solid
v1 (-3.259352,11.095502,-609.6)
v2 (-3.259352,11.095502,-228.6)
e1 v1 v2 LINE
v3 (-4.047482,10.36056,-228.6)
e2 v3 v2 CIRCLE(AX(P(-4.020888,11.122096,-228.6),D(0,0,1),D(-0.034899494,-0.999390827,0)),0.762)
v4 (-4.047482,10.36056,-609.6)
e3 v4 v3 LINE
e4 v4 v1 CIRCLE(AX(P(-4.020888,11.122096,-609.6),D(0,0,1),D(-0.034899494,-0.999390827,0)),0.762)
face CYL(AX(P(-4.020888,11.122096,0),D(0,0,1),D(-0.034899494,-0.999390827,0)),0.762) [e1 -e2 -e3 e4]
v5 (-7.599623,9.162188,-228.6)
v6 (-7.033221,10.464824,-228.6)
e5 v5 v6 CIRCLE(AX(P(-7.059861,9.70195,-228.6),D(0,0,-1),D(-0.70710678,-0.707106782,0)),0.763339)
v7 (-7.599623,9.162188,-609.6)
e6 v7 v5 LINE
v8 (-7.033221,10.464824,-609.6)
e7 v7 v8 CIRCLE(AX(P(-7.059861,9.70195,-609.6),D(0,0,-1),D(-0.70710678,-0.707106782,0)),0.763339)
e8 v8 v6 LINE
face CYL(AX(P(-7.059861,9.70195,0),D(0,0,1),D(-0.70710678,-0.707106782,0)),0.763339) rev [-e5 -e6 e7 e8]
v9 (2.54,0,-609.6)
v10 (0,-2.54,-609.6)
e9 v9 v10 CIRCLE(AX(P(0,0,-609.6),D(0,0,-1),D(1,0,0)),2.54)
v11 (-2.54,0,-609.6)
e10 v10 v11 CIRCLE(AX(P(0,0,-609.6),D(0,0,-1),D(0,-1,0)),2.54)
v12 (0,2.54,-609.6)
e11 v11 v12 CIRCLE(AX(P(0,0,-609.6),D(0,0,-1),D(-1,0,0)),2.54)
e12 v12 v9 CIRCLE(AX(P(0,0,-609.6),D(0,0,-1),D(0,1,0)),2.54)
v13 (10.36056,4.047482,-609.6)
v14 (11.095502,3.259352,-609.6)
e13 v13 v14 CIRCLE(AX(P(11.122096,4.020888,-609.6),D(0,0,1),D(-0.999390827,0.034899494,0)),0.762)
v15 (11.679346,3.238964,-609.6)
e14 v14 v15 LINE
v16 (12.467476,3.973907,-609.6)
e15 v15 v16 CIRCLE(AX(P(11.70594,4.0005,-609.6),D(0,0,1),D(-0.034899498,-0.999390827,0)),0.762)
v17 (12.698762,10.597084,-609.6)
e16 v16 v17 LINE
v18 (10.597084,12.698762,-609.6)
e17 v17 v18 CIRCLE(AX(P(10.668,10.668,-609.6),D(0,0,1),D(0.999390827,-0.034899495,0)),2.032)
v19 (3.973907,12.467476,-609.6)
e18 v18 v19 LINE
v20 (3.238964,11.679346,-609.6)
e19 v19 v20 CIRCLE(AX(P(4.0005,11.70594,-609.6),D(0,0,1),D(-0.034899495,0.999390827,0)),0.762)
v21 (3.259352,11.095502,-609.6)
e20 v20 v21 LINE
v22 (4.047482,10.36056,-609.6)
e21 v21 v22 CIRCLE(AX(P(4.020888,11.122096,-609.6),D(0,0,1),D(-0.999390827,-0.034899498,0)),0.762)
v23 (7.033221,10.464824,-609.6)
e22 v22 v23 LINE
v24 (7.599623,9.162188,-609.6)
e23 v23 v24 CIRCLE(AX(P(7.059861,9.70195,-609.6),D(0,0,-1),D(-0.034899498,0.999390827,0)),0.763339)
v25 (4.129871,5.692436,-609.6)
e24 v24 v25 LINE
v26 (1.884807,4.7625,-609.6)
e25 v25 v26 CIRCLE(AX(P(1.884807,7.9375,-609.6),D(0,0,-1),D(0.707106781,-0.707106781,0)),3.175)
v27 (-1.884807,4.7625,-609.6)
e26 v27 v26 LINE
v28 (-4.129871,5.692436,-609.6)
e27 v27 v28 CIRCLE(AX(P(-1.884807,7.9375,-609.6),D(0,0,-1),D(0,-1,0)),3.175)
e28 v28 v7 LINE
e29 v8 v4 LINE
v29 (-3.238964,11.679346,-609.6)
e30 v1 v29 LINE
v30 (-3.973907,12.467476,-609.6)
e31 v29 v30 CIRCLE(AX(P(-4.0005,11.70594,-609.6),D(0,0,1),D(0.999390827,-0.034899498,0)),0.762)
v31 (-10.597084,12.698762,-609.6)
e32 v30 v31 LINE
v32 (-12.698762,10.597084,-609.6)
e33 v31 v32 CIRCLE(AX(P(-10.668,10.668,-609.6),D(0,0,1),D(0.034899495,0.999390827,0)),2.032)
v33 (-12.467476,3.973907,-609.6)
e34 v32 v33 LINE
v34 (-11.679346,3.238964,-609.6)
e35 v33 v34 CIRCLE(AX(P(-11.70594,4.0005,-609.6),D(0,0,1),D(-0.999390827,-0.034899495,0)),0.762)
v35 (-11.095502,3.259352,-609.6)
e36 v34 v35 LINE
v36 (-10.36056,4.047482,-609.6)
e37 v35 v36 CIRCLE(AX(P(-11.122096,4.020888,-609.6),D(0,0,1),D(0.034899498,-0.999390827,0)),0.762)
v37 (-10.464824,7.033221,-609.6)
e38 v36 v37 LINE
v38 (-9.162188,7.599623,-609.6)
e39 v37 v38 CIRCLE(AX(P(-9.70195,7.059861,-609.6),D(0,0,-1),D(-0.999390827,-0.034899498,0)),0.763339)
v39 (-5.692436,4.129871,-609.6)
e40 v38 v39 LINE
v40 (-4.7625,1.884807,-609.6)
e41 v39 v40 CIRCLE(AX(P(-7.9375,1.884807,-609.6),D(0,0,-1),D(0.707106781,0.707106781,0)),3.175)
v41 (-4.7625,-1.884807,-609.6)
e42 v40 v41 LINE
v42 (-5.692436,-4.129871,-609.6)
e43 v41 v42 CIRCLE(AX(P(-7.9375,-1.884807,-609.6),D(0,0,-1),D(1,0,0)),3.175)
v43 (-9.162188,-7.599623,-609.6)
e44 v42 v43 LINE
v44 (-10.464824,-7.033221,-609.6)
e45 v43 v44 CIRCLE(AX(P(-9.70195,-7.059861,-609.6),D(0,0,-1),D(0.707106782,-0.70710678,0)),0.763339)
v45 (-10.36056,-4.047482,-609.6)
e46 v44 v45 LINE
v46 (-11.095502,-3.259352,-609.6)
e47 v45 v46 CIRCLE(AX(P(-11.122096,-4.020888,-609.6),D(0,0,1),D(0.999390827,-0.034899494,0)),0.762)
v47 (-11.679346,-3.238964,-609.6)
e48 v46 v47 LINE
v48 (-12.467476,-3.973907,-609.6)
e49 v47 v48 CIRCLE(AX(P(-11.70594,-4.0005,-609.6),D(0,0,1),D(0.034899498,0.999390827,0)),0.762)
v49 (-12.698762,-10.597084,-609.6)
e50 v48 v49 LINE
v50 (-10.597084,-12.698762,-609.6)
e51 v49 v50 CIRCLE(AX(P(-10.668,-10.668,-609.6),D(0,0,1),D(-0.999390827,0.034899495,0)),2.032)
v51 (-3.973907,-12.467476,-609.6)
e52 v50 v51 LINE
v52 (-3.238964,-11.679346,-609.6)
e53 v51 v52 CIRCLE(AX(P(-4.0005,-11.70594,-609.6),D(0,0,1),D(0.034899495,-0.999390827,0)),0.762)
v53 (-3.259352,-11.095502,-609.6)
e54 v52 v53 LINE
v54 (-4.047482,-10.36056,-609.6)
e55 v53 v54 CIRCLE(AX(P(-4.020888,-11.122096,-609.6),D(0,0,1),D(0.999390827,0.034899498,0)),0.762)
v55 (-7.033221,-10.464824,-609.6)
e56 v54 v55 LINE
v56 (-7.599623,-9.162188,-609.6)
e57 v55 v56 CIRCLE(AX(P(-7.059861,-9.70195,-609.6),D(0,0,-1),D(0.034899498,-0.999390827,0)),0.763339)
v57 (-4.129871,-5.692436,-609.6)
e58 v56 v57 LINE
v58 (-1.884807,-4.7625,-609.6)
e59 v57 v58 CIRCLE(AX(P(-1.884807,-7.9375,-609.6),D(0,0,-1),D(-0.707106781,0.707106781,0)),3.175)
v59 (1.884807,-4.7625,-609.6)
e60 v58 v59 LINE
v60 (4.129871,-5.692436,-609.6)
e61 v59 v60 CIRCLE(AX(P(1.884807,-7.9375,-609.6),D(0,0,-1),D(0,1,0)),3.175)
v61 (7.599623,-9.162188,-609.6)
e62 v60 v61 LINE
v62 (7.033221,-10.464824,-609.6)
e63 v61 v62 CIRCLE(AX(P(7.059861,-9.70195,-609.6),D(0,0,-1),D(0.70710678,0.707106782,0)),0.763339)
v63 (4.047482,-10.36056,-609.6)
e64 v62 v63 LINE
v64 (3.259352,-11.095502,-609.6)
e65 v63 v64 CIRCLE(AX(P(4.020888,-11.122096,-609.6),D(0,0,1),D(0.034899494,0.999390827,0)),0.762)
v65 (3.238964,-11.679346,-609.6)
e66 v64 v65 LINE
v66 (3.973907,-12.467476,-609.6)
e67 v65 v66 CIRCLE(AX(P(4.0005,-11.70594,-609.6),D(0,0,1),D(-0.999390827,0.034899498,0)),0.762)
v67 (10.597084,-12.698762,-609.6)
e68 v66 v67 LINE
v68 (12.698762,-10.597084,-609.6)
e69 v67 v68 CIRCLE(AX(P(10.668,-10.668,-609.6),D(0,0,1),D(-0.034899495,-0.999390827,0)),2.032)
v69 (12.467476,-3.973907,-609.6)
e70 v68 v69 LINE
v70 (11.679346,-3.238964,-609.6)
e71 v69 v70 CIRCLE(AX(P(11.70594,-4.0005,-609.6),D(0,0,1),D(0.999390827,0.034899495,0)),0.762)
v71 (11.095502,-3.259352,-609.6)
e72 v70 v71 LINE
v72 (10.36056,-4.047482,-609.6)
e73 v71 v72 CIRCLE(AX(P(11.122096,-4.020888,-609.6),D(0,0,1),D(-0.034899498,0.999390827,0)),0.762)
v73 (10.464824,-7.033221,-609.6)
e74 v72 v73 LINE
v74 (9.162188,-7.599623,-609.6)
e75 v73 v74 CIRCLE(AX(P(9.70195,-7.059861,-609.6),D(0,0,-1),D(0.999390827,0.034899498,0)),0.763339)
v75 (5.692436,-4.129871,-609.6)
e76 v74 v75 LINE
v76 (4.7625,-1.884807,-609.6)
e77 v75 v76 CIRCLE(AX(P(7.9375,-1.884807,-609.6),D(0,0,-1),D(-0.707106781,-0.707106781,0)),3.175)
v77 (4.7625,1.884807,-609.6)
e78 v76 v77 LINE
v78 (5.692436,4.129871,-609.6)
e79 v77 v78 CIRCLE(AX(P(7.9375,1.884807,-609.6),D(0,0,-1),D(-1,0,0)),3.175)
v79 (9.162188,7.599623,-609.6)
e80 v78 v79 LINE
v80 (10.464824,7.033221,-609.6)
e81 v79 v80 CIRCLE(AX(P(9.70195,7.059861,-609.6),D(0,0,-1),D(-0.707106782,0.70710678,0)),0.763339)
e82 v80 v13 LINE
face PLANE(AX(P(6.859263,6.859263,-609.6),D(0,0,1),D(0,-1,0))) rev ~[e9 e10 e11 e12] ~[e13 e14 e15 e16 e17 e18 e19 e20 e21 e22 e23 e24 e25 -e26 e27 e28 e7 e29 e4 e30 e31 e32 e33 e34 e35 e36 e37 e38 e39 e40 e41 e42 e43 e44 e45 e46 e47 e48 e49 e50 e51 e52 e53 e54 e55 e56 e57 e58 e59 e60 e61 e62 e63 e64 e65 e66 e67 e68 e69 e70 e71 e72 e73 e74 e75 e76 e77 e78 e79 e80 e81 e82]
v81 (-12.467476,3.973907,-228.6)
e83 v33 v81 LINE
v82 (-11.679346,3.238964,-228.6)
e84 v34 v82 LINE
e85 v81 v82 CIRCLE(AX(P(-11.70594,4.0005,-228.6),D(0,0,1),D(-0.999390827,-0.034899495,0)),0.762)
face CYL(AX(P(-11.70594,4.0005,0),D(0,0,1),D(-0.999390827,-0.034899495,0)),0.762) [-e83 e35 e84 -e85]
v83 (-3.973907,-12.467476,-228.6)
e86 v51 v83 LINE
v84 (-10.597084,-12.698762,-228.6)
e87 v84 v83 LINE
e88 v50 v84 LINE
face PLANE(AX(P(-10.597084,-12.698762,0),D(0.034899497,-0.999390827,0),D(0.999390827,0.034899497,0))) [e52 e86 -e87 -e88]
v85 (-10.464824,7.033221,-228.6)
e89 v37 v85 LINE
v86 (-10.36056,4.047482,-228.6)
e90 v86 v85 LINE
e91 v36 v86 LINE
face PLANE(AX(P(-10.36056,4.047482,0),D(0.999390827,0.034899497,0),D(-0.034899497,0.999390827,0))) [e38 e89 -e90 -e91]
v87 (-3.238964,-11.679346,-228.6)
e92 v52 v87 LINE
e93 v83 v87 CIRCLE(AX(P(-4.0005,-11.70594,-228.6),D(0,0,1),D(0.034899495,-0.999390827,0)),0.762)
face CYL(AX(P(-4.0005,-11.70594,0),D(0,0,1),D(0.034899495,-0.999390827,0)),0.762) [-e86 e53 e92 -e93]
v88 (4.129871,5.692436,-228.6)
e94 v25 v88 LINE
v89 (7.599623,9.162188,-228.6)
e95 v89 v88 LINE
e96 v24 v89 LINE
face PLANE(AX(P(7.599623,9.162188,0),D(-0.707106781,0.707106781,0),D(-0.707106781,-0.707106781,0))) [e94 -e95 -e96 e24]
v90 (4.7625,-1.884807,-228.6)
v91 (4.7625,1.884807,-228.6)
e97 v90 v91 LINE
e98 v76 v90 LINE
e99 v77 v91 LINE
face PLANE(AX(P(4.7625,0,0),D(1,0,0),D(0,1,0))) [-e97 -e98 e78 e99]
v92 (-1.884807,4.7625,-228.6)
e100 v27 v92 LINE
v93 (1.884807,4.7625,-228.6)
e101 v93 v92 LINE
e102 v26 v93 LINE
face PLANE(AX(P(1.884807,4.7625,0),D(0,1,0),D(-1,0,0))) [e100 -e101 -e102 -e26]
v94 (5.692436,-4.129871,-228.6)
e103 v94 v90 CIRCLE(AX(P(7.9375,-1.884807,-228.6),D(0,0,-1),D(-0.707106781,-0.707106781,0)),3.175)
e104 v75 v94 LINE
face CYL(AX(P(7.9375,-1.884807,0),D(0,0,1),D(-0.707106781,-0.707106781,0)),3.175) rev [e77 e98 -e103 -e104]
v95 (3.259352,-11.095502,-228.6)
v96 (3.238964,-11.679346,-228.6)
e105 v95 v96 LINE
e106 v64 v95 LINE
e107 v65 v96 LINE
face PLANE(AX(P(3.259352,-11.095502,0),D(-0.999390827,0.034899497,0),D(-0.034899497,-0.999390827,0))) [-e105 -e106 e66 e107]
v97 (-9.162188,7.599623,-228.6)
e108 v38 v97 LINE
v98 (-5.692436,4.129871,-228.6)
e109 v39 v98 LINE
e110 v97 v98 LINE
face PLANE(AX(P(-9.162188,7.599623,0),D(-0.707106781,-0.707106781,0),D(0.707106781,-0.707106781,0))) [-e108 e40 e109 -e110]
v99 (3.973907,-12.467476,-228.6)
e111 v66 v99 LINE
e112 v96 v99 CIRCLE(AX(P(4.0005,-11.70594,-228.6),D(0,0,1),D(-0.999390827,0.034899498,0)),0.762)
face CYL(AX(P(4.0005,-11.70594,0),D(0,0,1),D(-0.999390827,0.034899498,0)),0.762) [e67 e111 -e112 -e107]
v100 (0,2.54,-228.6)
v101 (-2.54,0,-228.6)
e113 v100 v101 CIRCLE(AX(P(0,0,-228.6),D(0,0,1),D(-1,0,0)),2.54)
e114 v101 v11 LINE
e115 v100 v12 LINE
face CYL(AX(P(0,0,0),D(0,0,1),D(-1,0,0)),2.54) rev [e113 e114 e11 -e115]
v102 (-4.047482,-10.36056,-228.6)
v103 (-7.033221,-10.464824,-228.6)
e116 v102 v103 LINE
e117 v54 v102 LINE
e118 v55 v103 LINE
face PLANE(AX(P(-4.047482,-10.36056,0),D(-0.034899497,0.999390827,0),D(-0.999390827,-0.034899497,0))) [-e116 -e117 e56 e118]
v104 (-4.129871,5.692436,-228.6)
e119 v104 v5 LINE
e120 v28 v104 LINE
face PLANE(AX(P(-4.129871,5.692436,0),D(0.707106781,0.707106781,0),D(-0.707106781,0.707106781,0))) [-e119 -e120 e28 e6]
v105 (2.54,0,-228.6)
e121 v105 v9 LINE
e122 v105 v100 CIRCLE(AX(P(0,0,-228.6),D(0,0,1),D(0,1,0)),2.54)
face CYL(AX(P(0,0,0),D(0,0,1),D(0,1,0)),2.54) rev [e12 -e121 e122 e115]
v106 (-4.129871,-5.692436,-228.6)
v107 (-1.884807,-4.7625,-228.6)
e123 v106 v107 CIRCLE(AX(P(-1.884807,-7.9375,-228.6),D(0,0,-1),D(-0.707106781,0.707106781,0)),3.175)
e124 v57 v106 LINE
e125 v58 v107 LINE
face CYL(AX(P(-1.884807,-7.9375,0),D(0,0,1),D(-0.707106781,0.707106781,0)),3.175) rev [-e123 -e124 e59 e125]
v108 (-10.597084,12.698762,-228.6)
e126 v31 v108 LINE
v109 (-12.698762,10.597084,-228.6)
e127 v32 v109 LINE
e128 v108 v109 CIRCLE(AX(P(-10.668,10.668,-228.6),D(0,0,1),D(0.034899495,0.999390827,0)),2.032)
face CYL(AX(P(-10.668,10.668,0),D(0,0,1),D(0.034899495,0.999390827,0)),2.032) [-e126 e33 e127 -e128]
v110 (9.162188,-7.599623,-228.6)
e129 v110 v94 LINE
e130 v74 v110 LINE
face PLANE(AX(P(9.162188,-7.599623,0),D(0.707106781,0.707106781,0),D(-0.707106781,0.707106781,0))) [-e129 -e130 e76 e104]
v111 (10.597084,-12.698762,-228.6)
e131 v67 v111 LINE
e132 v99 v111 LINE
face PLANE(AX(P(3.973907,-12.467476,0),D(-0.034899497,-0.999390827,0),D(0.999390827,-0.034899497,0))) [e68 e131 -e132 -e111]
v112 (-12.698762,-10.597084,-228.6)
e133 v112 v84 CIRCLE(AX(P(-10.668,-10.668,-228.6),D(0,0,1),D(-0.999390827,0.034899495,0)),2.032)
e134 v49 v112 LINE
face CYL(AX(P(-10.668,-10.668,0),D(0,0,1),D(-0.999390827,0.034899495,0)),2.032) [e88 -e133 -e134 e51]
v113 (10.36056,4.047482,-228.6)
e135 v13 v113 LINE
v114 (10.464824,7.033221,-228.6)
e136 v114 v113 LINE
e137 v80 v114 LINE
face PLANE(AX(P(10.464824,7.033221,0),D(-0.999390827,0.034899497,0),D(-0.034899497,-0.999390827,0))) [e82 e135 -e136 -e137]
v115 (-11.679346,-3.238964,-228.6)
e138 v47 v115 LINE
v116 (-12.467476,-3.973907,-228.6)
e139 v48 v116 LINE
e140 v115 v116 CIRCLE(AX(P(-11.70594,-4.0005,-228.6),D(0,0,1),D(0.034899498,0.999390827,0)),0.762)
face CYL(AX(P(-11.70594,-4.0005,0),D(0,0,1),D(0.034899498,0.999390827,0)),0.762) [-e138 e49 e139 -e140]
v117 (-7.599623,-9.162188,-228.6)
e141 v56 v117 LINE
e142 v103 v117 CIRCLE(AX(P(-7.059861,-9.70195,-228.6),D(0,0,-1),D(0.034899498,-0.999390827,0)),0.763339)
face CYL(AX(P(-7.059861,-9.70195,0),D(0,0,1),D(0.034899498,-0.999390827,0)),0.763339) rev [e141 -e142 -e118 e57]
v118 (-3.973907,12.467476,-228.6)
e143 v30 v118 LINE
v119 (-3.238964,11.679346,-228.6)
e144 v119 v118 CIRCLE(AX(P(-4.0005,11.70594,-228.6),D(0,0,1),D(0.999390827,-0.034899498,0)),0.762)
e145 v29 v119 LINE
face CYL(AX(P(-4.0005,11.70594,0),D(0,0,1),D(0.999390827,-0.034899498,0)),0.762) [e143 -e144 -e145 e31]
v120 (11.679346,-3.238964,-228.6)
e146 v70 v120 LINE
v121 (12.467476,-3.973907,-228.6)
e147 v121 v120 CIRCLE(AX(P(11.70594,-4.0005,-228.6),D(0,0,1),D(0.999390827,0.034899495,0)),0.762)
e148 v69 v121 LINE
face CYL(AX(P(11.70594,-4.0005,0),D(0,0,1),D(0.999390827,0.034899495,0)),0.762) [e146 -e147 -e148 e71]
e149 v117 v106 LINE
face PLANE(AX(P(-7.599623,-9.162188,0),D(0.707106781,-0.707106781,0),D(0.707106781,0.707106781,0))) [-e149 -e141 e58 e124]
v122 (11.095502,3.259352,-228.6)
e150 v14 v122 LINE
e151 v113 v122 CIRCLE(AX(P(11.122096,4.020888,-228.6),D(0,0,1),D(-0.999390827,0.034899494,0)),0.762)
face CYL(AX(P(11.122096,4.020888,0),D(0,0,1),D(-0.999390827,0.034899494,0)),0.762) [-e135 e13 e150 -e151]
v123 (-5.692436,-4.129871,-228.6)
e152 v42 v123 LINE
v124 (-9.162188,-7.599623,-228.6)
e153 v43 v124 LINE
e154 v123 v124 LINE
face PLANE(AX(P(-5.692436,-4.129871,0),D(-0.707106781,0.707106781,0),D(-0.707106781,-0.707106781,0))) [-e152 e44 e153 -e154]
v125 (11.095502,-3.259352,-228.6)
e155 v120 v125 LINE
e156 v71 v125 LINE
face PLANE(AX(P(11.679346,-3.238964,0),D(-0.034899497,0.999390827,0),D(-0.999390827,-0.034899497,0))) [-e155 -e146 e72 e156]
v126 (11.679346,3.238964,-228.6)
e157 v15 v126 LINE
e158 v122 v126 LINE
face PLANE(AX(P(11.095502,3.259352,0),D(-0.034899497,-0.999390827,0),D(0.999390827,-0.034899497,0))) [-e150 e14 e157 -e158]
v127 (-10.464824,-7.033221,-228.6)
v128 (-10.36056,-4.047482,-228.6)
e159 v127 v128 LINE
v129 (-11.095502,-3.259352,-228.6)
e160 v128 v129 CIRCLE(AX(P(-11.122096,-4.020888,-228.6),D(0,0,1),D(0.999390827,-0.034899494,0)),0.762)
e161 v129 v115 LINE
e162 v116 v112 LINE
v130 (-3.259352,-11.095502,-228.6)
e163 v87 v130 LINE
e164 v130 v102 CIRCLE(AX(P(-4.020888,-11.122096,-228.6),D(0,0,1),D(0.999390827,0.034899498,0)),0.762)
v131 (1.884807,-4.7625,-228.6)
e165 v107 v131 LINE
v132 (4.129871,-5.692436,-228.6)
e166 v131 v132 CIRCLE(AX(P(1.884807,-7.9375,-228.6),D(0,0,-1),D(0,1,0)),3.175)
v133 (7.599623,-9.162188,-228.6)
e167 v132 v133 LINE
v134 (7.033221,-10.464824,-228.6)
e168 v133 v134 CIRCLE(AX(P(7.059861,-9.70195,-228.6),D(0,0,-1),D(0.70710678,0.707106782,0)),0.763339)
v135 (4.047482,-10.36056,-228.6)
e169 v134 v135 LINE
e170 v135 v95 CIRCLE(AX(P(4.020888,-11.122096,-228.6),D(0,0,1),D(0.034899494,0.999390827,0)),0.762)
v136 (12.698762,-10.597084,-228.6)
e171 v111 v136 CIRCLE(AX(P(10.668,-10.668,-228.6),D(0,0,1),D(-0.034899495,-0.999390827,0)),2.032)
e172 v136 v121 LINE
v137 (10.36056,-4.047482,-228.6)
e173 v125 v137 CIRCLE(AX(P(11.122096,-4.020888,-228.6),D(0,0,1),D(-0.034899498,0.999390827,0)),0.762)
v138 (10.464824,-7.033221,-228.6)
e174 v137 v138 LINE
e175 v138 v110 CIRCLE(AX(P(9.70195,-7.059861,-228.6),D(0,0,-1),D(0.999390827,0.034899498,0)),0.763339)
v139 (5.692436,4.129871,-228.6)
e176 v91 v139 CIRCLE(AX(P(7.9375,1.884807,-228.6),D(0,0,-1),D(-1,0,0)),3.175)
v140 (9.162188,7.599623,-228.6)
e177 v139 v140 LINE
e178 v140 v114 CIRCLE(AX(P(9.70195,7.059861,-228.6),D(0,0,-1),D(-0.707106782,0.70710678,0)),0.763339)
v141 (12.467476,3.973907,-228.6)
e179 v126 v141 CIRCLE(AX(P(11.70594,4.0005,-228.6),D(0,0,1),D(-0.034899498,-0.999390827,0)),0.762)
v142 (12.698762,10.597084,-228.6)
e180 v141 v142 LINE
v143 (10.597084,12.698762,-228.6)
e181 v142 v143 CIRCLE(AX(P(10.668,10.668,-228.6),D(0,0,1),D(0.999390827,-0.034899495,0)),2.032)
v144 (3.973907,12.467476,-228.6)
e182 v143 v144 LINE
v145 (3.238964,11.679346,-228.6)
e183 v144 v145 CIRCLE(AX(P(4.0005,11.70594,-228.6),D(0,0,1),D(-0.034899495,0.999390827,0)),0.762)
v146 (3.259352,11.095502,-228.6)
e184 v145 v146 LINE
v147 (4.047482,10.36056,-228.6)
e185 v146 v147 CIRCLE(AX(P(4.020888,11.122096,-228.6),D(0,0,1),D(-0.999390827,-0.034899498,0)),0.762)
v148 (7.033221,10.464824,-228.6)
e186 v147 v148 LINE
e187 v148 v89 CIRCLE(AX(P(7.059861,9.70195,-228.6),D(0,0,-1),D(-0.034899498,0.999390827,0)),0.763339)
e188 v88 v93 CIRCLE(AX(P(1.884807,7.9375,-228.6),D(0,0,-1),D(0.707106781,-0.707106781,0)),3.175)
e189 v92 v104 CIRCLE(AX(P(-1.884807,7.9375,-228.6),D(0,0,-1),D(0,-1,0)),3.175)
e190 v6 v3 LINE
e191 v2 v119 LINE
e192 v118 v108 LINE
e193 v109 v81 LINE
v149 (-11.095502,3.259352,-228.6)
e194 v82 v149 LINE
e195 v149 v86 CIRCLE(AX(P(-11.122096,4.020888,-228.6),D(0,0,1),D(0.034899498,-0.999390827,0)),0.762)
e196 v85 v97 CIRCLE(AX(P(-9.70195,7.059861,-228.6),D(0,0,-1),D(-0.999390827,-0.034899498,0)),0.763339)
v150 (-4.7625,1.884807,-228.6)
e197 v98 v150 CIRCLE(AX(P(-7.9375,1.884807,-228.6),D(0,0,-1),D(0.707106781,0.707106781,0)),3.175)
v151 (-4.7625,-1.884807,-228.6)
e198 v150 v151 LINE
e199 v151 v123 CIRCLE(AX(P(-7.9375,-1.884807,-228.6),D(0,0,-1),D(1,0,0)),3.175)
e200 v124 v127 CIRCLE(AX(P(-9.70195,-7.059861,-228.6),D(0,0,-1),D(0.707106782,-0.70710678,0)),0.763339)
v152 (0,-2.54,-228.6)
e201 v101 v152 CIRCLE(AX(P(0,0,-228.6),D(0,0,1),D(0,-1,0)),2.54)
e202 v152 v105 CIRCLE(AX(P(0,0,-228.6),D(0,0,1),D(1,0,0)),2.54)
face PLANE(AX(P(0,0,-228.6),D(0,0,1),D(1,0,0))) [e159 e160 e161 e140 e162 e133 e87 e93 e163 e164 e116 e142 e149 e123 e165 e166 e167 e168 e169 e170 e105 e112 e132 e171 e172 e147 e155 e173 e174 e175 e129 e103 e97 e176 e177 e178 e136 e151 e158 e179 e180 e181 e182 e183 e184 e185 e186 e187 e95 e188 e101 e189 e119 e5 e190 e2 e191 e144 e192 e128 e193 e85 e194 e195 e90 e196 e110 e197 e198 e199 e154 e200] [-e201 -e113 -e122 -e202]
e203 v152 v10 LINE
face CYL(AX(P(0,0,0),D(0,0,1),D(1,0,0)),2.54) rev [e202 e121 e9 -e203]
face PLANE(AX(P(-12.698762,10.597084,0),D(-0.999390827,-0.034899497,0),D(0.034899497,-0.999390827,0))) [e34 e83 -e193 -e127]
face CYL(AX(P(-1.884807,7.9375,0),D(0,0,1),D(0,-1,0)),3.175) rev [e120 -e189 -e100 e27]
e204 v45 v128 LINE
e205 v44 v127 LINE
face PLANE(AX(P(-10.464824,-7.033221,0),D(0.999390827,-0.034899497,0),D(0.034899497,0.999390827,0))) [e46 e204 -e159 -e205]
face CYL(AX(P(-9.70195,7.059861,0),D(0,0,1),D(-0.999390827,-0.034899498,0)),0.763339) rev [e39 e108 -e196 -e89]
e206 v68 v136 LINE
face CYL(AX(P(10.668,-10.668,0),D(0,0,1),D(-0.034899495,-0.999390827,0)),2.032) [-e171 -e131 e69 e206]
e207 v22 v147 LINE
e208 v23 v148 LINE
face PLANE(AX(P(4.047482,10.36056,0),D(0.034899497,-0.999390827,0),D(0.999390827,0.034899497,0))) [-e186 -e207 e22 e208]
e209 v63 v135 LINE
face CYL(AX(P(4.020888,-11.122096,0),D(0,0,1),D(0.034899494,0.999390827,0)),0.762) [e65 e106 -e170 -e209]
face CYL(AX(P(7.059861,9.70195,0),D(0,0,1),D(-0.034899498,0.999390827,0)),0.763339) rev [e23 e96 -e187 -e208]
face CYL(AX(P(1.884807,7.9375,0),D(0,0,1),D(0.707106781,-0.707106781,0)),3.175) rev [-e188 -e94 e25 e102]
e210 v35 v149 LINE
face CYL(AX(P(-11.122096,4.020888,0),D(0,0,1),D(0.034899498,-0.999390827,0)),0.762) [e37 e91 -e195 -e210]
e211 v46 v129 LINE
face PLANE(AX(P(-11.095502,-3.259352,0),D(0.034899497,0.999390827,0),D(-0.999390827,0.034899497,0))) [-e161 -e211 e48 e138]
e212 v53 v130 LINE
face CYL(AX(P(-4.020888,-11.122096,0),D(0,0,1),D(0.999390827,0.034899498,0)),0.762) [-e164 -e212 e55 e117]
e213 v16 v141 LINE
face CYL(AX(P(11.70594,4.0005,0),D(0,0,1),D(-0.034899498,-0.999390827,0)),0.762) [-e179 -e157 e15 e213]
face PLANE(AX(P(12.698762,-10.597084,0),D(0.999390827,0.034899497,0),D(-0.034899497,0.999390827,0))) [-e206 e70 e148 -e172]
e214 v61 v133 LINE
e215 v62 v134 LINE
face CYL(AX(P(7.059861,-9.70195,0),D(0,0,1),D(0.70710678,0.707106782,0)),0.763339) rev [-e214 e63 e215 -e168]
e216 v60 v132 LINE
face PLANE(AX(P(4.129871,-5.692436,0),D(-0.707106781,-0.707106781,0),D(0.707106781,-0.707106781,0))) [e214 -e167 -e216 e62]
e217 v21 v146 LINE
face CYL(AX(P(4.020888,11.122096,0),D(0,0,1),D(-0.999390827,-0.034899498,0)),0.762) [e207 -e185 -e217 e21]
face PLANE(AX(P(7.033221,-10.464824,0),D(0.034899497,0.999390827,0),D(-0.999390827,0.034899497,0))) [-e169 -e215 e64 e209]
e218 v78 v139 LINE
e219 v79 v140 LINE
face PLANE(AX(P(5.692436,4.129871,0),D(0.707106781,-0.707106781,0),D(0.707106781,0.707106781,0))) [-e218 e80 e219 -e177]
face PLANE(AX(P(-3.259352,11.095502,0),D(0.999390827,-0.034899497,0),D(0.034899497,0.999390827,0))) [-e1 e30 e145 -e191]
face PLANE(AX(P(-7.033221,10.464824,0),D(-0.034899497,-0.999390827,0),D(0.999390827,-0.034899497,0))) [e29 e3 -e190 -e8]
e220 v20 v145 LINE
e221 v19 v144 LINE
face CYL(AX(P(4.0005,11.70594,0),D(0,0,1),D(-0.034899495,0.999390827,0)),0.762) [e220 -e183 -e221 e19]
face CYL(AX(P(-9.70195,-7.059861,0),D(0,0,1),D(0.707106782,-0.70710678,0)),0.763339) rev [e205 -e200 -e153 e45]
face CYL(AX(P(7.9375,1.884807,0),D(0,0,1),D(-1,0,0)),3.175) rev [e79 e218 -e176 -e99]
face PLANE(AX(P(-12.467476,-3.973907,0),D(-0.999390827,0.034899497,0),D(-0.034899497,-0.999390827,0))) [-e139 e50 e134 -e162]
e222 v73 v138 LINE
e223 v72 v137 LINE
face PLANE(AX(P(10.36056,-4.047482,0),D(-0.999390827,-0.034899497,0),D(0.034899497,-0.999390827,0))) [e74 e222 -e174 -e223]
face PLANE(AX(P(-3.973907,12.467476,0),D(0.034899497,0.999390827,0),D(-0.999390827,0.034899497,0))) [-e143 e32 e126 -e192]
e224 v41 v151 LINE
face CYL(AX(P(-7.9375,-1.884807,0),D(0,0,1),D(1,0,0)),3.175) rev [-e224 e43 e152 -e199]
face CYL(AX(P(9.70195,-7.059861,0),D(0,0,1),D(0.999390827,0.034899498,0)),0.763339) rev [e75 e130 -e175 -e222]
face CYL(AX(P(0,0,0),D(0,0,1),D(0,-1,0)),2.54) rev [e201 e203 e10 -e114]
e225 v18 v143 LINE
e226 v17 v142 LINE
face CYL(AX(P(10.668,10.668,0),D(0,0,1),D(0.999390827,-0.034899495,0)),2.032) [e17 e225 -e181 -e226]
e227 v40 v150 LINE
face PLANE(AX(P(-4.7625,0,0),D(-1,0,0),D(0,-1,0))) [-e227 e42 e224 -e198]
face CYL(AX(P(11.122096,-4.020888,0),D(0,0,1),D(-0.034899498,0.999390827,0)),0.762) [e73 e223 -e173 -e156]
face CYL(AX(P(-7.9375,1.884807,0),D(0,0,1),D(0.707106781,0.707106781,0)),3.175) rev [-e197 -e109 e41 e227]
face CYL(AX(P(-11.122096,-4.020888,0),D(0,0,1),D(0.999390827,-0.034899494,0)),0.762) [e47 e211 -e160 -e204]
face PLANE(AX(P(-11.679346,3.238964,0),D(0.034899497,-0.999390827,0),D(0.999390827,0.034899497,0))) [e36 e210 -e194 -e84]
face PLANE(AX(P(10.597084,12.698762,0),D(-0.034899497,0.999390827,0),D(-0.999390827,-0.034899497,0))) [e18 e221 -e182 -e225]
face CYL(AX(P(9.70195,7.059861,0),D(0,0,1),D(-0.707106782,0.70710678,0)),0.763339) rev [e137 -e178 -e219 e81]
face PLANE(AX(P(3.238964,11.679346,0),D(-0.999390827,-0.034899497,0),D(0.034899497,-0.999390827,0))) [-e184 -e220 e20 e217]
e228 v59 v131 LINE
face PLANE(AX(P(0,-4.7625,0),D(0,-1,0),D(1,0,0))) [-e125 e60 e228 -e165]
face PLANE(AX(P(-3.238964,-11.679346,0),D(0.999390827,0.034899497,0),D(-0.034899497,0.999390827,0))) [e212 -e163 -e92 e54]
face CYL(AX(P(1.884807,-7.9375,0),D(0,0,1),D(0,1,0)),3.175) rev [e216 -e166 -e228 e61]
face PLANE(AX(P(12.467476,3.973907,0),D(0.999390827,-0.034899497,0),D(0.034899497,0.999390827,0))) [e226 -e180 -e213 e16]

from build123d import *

# Parameters (mm, degrees)
BOSS_EXTRUDE1_DEPTH = 609.6
CIRPATTERN1_COUNT   = 4
CUT_EXTRUDE1_DEPTH  = 838.2


with BuildPart() as part:
    # Sketch3 → Boss-Extrude1 (new, symmetric)
    with BuildSketch(Plane.XY):
        with BuildLine():
            Line((0, 4.7625), (-1.884807374, 4.7625))
            ThreePointArc((-1.884807374, 4.7625), (-3.099827272, 5.004182484), (-4.129871405, 5.69243597))
            Line((-4.129871405, 5.69243597), (-7.599623114, 9.162187679))
            ThreePointArc((-7.599623114, 9.162187679), (-7.759888701, 10.006330839), (-7.033220609, 10.464824259))
            Line((-7.033220609, 10.464824259), (-4.047481702, 10.360559959))
            ThreePointArc((-4.047481702, 10.360559959), (-3.501205536, 10.564804249), (-3.259352476, 11.095502353))
            Line((-3.259352476, 11.095502353), (-3.23896419, 11.679346474))
            ThreePointArc((-3.23896419, 11.679346474), (-3.443208479, 12.225622641), (-3.973906584, 12.467475701))
            Line((-3.973906584, 12.467475701), (-10.597084223, 12.698762161))
            ThreePointArc((-10.597084223, 12.698762161), (-12.104840979, 12.104840979), (-12.698762161, 10.597084223))
            Line((-12.698762161, 10.597084223), (-12.467475701, 3.973906584))
            ThreePointArc((-12.467475701, 3.973906584), (-12.225622641, 3.443208479), (-11.679346474, 3.23896419))
            Line((-11.679346474, 3.23896419), (-11.095502353, 3.259352476))
            ThreePointArc((-11.095502353, 3.259352476), (-10.564804249, 3.501205536), (-10.360559959, 4.047481702))
            Line((-10.360559959, 4.047481702), (-10.464824259, 7.033220609))
            ThreePointArc((-10.464824259, 7.033220609), (-10.006330839, 7.759888701), (-9.162187679, 7.599623114))
            Line((-9.162187679, 7.599623114), (-5.69243597, 4.129871405))
            ThreePointArc((-5.69243597, 4.129871405), (-5.004182484, 3.099827272), (-4.7625, 1.884807374))
            Line((-4.7625, 1.884807374), (-4.7625, 0))
            Line((-4.7625, 0), (-2.54, 0))
            ThreePointArc((-2.54, 0), (-1.796051224, 1.796051224), (0, 2.54))
            Line((0, 2.54), (0, 4.7625))
        make_face()
    boss_extrude1 = extrude(amount=BOSS_EXTRUDE1_DEPTH, both=True)

    # CirPattern1: Boss-Extrude1 ×4 about axis
    cirpattern1_axis = Axis((0, 0, 0), (0, 0, 1))
    for i in range(1, CIRPATTERN1_COUNT):
        add(boss_extrude1.rotate(cirpattern1_axis, i * 360 / CIRPATTERN1_COUNT))

    # Sketch4 → Cut-Extrude1 (cut)
    with BuildSketch(Plane.XY.offset(609.6)):
        with BuildLine():
            Line((1.884807374, 4.7625), (-1.884807374, 4.7625))
            ThreePointArc((-1.884807374, 4.7625), (-3.099827272, 5.004182484), (-4.129871405, 5.69243597))
            Line((-4.129871405, 5.69243597), (-7.599623114, 9.162187679))
            ThreePointArc((-7.599623114, 9.162187679), (-7.759888701, 10.006330839), (-7.033220609, 10.464824259))
            Line((-7.033220609, 10.464824259), (-4.047481702, 10.360559959))
            ThreePointArc((-4.047481702, 10.360559959), (-3.501205536, 10.564804249), (-3.259352476, 11.095502353))
            Line((-3.259352476, 11.095502353), (-3.23896419, 11.679346474))
            ThreePointArc((-3.23896419, 11.679346474), (-3.443208479, 12.225622641), (-3.973906584, 12.467475701))
            Line((-3.973906584, 12.467475701), (-10.597084223, 12.698762161))
            ThreePointArc((-10.597084223, 12.698762161), (-12.104840979, 12.104840979), (-12.698762161, 10.597084223))
            Line((-12.698762161, 10.597084223), (-12.467475701, 3.973906584))
            ThreePointArc((-12.467475701, 3.973906584), (-12.225622641, 3.443208479), (-11.679346474, 3.23896419))
            Line((-11.679346474, 3.23896419), (-11.095502353, 3.259352476))
            ThreePointArc((-11.095502353, 3.259352476), (-10.564804249, 3.501205536), (-10.360559959, 4.047481702))
            Line((-10.360559959, 4.047481702), (-10.464824259, 7.033220609))
            ThreePointArc((-10.464824259, 7.033220609), (-10.006330839, 7.759888701), (-9.162187679, 7.599623114))
            Line((-9.162187679, 7.599623114), (-5.69243597, 4.129871405))
            ThreePointArc((-5.69243597, 4.129871405), (-5.004182484, 3.099827272), (-4.7625, 1.884807374))
            Line((-4.7625, 1.884807374), (-4.7625, -1.884807374))
            ThreePointArc((-4.7625, -1.884807374), (-5.004182484, -3.099827272), (-5.69243597, -4.129871405))
            Line((-5.69243597, -4.129871405), (-9.162187679, -7.599623114))
            ThreePointArc((-9.162187679, -7.599623114), (-10.006330839, -7.759888701), (-10.464824259, -7.033220609))
            Line((-10.464824259, -7.033220609), (-10.360559959, -4.047481702))
            ThreePointArc((-10.360559959, -4.047481702), (-10.564804249, -3.501205536), (-11.095502353, -3.259352476))
            Line((-11.095502353, -3.259352476), (-11.679346474, -3.23896419))
            ThreePointArc((-11.679346474, -3.23896419), (-12.225622641, -3.443208479), (-12.467475701, -3.973906584))
            Line((-12.467475701, -3.973906584), (-12.698762161, -10.597084223))
            ThreePointArc((-12.698762161, -10.597084223), (-12.104840979, -12.104840979), (-10.597084223, -12.698762161))
            Line((-10.597084223, -12.698762161), (-3.973906584, -12.467475701))
            ThreePointArc((-3.973906584, -12.467475701), (-3.443208479, -12.225622641), (-3.23896419, -11.679346474))
            Line((-3.23896419, -11.679346474), (-3.259352476, -11.095502353))
            ThreePointArc((-3.259352476, -11.095502353), (-3.501205536, -10.564804249), (-4.047481702, -10.360559959))
            Line((-4.047481702, -10.360559959), (-7.033220609, -10.464824259))
            ThreePointArc((-7.033220609, -10.464824259), (-7.759888701, -10.006330839), (-7.599623114, -9.162187679))
            Line((-7.599623114, -9.162187679), (-4.129871405, -5.69243597))
            ThreePointArc((-4.129871405, -5.69243597), (-3.099827272, -5.004182484), (-1.884807374, -4.7625))
            Line((-1.884807374, -4.7625), (1.884807374, -4.7625))
            ThreePointArc((1.884807374, -4.7625), (3.099827272, -5.004182484), (4.129871405, -5.69243597))
            Line((4.129871405, -5.69243597), (7.599623114, -9.162187679))
            ThreePointArc((7.599623114, -9.162187679), (7.759888701, -10.006330839), (7.033220609, -10.464824259))
            Line((7.033220609, -10.464824259), (4.047481702, -10.360559959))
            ThreePointArc((4.047481702, -10.360559959), (3.501205536, -10.564804249), (3.259352476, -11.095502353))
            Line((3.259352476, -11.095502353), (3.23896419, -11.679346474))
            ThreePointArc((3.23896419, -11.679346474), (3.443208479, -12.225622641), (3.973906584, -12.467475701))
            Line((3.973906584, -12.467475701), (10.597084223, -12.698762161))
            ThreePointArc((10.597084223, -12.698762161), (12.104840979, -12.104840979), (12.698762161, -10.597084223))
            Line((12.698762161, -10.597084223), (12.467475701, -3.973906584))
            ThreePointArc((12.467475701, -3.973906584), (12.225622641, -3.443208479), (11.679346474, -3.23896419))
            Line((11.679346474, -3.23896419), (11.095502353, -3.259352476))
            ThreePointArc((11.095502353, -3.259352476), (10.564804249, -3.501205536), (10.360559959, -4.047481702))
            Line((10.360559959, -4.047481702), (10.464824259, -7.033220609))
            ThreePointArc((10.464824259, -7.033220609), (10.006330839, -7.759888701), (9.162187679, -7.599623114))
            Line((9.162187679, -7.599623114), (5.69243597, -4.129871405))
            ThreePointArc((5.69243597, -4.129871405), (5.004182484, -3.099827272), (4.7625, -1.884807374))
            Line((4.7625, -1.884807374), (4.7625, 1.884807374))
            ThreePointArc((4.7625, 1.884807374), (5.004182484, 3.099827272), (5.69243597, 4.129871405))
            Line((5.69243597, 4.129871405), (9.162187679, 7.599623114))
            ThreePointArc((9.162187679, 7.599623114), (10.006330839, 7.759888701), (10.464824259, 7.033220609))
            Line((10.464824259, 7.033220609), (10.360559959, 4.047481702))
            ThreePointArc((10.360559959, 4.047481702), (10.564804249, 3.501205536), (11.095502353, 3.259352476))
            Line((11.095502353, 3.259352476), (11.679346474, 3.23896419))
            ThreePointArc((11.679346474, 3.23896419), (12.225622641, 3.443208479), (12.467475701, 3.973906584))
            Line((12.467475701, 3.973906584), (12.698762161, 10.597084223))
            ThreePointArc((12.698762161, 10.597084223), (12.104840979, 12.104840979), (10.597084223, 12.698762161))
            Line((10.597084223, 12.698762161), (3.973906584, 12.467475701))
            ThreePointArc((3.973906584, 12.467475701), (3.443208479, 12.225622641), (3.23896419, 11.679346474))
            Line((3.23896419, 11.679346474), (3.259352476, 11.095502353))
            ThreePointArc((3.259352476, 11.095502353), (3.501205536, 10.564804249), (4.047481702, 10.360559959))
            Line((4.047481702, 10.360559959), (7.033220609, 10.464824259))
            ThreePointArc((7.033220609, 10.464824259), (7.759888701, 10.006330839), (7.599623114, 9.162187679))
            Line((7.599623114, 9.162187679), (4.129871405, 5.69243597))
            ThreePointArc((4.129871405, 5.69243597), (3.099827272, 5.004182484), (1.884807374, 4.7625))
        make_face()
    extrude(amount=-CUT_EXTRUDE1_DEPTH, mode=Mode.SUBTRACT)


solid = part.part
